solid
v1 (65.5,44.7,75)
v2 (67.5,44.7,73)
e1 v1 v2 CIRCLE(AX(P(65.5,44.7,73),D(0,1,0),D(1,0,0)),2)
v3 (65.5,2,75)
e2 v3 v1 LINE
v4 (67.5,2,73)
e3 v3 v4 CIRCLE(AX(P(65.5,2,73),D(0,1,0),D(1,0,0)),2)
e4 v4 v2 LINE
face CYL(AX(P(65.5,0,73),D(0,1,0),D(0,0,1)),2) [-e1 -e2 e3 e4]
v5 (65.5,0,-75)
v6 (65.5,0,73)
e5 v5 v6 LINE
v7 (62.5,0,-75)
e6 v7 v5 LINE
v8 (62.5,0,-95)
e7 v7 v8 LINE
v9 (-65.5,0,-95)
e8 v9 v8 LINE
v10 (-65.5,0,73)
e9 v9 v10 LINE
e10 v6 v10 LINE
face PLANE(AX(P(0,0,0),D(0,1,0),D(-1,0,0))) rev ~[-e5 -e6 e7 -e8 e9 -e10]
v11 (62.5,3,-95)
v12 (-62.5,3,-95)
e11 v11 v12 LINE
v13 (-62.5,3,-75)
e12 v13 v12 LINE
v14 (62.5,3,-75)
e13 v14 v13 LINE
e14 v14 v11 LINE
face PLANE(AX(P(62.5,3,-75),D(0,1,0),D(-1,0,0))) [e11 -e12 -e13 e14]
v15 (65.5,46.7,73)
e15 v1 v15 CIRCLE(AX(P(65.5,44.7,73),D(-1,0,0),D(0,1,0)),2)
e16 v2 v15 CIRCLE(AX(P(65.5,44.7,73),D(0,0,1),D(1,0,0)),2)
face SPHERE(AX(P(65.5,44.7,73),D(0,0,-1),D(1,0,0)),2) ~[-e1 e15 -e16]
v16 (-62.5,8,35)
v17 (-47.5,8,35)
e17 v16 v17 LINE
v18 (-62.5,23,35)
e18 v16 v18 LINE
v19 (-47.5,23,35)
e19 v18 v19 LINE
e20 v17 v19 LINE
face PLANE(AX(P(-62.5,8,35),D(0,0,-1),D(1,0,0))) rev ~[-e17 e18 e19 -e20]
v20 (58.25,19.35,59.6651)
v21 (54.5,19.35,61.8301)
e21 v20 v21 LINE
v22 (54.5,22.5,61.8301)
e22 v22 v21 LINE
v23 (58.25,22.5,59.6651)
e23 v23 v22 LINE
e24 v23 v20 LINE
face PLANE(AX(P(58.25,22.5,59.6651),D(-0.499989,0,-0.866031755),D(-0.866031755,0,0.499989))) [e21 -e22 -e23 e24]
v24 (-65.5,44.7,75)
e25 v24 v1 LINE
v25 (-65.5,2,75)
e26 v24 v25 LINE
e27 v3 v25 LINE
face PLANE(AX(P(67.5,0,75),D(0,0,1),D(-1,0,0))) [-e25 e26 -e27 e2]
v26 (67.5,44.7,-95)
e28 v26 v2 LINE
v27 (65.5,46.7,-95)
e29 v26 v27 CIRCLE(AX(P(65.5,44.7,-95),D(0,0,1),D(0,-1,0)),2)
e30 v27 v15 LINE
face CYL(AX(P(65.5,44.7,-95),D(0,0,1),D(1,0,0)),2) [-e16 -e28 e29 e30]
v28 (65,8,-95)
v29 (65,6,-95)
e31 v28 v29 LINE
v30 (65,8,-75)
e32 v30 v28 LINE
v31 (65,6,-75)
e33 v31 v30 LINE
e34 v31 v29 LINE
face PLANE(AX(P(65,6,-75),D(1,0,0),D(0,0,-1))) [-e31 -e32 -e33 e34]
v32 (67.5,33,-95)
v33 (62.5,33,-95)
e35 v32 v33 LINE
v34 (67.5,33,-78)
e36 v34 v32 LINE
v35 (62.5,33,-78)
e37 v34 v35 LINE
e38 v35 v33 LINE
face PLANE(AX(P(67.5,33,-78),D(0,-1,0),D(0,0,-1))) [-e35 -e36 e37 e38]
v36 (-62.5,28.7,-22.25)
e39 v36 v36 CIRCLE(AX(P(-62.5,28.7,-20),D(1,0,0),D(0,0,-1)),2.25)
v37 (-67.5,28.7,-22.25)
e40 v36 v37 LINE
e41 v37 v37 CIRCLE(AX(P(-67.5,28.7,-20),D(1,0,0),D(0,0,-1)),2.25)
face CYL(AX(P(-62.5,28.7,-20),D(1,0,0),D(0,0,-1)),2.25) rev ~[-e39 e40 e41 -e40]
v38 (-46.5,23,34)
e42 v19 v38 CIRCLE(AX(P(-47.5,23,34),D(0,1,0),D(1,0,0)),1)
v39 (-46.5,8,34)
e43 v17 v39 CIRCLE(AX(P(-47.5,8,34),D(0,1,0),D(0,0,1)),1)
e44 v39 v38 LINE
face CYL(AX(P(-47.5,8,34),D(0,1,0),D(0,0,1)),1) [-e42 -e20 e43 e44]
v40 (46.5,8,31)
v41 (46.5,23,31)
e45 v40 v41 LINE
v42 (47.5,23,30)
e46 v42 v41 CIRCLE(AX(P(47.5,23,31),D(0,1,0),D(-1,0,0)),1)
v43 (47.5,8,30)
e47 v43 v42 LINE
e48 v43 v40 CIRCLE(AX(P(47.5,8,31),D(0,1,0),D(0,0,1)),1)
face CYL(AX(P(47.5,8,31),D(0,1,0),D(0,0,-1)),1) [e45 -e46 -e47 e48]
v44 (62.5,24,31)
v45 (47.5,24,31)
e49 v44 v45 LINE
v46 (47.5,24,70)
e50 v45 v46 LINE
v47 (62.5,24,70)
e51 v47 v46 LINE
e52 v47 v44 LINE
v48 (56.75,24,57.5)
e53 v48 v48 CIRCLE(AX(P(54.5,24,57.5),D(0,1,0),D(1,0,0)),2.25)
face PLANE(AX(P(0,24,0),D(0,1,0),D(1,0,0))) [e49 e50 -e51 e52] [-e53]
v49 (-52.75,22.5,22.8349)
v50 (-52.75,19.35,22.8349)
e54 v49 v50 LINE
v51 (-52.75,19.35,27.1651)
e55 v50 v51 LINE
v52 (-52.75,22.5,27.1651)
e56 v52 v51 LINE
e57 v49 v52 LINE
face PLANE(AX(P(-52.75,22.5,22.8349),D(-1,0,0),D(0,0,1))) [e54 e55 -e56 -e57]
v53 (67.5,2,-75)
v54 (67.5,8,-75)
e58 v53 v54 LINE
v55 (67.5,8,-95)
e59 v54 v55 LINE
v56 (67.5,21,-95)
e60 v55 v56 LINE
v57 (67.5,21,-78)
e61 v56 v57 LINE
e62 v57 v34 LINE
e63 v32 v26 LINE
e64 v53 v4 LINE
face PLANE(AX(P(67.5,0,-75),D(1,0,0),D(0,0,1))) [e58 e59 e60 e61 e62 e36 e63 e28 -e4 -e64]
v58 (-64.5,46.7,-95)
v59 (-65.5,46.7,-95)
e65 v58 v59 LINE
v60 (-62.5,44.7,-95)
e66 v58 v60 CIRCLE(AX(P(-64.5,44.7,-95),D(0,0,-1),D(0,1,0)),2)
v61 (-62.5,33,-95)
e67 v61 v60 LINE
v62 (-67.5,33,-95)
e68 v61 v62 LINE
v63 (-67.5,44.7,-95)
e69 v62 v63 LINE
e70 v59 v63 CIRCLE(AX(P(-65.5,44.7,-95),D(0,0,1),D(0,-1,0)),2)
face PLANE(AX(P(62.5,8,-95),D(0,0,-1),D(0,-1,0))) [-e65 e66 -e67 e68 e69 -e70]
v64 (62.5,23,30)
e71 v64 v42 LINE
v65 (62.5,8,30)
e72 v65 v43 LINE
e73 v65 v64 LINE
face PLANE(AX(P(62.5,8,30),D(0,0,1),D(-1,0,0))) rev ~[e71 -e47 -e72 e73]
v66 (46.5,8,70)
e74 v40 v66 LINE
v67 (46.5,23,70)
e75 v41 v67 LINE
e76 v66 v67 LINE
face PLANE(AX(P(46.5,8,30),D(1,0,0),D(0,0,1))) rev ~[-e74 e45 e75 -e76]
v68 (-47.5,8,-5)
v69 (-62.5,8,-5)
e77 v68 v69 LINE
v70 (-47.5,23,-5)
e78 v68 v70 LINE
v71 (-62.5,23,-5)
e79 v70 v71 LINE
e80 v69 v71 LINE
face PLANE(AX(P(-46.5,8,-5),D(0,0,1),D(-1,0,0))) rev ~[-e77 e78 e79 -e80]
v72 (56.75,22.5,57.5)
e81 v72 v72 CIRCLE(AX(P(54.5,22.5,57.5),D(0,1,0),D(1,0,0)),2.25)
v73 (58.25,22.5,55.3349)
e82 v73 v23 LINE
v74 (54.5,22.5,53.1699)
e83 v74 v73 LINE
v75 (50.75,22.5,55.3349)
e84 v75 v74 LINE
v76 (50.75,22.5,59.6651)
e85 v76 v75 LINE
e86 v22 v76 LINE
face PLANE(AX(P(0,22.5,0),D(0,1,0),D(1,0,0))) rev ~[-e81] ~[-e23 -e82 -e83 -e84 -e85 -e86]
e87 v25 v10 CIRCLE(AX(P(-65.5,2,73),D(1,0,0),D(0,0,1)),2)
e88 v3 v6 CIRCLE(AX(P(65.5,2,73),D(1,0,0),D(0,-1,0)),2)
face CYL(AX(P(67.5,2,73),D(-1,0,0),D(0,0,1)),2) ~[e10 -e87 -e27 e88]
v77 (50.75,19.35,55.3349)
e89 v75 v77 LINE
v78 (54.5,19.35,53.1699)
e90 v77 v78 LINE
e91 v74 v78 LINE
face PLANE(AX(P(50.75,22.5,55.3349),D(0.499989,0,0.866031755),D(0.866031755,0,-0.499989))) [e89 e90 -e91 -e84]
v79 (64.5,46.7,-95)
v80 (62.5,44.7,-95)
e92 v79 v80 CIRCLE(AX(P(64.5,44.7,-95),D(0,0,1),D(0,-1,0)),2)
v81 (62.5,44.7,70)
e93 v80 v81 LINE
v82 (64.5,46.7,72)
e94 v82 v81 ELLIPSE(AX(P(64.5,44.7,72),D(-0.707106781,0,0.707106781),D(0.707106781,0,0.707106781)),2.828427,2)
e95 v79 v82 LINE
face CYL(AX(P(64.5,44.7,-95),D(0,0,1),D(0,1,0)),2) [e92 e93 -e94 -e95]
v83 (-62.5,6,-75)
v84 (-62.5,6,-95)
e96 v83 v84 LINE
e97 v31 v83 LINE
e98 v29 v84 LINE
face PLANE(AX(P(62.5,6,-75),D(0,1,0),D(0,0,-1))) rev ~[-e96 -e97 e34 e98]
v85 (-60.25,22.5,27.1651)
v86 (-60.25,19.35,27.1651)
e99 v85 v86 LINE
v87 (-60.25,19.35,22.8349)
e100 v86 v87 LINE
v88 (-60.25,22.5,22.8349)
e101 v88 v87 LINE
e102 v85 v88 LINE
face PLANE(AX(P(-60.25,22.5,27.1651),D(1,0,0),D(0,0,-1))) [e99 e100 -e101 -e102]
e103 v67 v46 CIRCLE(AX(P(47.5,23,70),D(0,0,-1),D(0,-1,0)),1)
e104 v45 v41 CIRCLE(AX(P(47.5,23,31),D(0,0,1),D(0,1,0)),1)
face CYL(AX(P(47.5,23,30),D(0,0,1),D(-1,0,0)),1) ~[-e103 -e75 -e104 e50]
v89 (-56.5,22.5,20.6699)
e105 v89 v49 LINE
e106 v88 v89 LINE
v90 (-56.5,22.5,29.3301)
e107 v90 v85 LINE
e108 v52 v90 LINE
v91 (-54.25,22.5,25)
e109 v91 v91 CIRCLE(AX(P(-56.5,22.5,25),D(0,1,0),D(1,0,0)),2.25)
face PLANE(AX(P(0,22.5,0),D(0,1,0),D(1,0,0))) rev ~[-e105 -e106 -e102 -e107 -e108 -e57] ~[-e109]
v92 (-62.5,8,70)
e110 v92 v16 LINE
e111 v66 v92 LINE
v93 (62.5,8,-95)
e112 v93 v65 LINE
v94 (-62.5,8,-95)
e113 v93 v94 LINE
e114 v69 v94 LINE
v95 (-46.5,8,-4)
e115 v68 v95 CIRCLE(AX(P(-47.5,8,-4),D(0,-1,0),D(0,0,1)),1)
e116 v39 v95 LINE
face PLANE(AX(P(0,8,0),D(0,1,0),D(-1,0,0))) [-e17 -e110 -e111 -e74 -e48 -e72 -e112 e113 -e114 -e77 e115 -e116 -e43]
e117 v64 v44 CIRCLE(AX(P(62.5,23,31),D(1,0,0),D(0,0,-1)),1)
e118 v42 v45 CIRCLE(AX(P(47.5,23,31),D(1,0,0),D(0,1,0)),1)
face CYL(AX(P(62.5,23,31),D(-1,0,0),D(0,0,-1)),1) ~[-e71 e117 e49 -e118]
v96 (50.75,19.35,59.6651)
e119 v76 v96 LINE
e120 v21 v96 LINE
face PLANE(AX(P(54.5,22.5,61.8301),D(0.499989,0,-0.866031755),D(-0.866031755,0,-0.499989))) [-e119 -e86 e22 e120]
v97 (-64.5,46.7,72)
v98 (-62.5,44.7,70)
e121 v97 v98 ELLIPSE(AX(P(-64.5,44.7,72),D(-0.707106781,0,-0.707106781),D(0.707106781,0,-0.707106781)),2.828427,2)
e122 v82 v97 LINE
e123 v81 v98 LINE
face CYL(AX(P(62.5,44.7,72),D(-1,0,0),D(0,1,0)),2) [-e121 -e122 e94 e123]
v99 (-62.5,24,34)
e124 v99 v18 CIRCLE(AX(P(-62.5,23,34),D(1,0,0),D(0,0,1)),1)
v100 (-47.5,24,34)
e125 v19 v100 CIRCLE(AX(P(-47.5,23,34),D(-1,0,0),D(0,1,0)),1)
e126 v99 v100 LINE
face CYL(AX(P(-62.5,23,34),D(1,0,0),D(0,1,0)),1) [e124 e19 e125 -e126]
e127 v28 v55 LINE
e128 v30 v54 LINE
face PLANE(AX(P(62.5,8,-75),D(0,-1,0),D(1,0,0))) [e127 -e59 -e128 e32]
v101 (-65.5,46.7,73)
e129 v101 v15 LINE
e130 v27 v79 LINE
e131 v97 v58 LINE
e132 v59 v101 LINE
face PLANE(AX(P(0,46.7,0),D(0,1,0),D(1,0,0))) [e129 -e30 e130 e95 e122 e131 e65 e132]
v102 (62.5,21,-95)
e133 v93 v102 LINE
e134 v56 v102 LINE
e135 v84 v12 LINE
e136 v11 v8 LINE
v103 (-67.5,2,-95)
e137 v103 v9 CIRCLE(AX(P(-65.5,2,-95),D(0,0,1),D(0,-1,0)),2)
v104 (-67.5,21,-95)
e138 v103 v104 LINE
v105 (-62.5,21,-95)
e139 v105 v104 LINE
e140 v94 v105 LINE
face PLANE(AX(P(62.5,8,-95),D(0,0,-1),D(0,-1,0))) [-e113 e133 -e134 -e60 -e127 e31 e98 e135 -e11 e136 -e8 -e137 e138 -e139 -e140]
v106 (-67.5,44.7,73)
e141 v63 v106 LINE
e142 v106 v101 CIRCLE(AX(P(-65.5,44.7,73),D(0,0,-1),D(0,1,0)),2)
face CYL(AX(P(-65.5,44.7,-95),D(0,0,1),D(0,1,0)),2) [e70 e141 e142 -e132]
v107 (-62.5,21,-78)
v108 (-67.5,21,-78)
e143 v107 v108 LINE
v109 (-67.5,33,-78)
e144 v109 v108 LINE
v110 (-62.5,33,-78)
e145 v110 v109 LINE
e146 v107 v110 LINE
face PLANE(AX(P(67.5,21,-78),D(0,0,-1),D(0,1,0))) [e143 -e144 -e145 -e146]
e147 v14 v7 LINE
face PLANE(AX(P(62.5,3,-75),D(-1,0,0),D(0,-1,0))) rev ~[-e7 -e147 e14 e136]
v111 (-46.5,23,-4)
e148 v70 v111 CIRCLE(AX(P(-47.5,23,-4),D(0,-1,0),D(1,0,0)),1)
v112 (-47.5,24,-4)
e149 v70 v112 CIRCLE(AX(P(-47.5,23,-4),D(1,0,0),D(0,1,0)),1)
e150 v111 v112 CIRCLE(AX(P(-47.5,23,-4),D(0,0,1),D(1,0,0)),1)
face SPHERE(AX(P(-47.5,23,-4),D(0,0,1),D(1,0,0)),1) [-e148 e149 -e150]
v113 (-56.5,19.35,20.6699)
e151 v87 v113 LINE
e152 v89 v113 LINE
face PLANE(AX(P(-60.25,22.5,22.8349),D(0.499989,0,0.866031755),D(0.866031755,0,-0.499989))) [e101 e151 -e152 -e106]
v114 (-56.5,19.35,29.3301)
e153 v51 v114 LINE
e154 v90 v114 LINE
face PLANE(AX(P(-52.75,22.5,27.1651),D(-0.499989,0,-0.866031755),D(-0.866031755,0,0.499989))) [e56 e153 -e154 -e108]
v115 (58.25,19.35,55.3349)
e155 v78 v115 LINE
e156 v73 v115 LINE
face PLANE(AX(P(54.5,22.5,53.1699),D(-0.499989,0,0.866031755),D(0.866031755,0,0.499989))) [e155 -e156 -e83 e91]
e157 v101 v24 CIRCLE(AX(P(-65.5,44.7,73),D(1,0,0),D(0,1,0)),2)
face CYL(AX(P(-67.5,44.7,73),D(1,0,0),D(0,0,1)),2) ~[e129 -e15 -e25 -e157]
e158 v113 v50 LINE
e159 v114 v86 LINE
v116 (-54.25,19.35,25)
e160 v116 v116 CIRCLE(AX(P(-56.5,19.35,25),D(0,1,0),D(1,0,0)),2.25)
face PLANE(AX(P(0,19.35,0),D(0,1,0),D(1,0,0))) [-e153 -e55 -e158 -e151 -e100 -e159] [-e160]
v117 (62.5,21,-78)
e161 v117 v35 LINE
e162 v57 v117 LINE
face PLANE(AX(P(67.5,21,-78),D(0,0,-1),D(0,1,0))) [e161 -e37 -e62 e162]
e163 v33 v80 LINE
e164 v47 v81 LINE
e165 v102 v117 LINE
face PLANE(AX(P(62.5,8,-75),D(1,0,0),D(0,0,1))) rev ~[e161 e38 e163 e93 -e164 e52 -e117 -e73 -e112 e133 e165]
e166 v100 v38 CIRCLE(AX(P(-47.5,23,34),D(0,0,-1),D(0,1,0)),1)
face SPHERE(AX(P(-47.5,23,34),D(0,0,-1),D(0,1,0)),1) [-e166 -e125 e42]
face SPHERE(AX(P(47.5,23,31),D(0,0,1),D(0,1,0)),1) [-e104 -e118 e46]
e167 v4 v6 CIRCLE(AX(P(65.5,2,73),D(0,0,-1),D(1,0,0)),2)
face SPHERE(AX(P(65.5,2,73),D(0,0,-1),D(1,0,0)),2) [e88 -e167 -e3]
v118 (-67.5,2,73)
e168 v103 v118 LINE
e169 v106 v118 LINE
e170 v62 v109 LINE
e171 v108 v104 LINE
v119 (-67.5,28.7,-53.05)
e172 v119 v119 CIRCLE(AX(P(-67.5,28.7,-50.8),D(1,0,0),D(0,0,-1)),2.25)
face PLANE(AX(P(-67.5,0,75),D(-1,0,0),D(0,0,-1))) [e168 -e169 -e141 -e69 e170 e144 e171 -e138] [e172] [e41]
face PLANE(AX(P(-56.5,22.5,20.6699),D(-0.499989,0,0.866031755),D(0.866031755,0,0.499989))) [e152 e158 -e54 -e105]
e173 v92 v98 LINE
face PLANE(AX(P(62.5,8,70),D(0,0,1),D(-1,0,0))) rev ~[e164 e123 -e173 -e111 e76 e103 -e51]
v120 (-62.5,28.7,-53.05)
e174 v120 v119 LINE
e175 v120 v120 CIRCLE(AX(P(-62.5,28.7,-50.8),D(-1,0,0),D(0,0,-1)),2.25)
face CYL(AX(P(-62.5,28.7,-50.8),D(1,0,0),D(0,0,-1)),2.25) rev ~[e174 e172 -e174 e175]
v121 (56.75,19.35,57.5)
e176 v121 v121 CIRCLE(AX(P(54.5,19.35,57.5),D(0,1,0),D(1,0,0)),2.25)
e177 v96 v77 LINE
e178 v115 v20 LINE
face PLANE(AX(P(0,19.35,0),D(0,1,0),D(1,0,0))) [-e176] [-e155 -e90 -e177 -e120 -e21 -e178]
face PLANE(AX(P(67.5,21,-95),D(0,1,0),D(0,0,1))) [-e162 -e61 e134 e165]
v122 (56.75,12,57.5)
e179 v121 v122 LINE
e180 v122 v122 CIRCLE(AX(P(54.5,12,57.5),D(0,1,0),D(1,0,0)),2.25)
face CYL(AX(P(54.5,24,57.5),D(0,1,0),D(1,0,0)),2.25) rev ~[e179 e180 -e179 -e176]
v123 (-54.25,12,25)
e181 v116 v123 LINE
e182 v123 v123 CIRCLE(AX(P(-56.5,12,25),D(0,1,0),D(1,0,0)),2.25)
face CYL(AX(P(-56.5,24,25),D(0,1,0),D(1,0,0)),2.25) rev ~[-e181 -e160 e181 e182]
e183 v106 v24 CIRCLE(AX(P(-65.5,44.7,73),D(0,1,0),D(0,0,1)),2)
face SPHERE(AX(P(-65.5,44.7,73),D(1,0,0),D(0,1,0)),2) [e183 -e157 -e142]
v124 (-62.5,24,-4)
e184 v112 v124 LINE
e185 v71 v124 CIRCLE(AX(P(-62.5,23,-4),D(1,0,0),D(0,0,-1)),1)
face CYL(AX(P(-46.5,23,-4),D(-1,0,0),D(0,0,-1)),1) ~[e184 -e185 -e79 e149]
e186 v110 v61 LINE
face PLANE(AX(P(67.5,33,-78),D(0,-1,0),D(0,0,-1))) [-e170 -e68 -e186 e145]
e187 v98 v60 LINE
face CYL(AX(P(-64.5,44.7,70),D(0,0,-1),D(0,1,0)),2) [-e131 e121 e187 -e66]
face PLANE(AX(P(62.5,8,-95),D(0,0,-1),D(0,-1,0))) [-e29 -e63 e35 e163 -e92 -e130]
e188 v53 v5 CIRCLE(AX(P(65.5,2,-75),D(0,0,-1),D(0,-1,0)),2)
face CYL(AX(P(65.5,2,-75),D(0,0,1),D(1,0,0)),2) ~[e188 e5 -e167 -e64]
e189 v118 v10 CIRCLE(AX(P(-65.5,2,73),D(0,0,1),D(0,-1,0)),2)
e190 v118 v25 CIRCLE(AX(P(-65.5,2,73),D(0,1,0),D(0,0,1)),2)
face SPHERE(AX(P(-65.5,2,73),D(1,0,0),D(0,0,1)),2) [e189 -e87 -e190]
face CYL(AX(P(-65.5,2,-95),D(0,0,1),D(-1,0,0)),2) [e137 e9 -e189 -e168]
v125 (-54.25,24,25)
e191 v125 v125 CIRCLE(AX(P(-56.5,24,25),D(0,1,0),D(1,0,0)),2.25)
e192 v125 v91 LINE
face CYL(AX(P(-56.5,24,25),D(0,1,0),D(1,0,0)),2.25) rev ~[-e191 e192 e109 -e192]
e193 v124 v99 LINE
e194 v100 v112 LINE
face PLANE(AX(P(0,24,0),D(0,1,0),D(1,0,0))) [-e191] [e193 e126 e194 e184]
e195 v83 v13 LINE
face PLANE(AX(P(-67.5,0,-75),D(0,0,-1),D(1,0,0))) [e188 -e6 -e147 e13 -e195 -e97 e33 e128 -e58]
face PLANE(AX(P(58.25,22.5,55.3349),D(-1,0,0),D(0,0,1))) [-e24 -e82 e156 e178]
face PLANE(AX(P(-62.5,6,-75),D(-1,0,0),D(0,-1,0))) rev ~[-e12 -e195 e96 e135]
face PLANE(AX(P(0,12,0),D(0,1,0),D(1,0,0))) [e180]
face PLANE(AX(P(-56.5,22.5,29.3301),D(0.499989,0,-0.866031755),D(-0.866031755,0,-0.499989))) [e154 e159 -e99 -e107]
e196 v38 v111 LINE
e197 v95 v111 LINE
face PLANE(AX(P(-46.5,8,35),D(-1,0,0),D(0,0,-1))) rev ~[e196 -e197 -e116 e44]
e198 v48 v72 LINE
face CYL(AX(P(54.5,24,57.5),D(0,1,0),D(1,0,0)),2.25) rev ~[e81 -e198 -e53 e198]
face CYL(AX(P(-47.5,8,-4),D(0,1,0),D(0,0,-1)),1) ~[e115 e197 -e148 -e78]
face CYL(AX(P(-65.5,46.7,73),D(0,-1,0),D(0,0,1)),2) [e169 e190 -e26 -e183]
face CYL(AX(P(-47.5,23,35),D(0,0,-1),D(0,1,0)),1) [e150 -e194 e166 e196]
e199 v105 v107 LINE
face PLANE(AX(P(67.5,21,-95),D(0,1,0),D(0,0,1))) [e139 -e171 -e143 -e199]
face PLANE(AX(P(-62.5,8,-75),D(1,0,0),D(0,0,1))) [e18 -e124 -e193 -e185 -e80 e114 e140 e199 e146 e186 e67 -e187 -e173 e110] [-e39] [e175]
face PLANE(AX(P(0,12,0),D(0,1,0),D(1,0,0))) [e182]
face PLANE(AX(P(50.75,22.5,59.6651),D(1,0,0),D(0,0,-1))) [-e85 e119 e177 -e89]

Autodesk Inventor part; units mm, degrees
sketch "Sketch1" plane through (0, 0, 0) normal (0, 1, 0) x (-1, 0, 0)
  line L0 (-67.5, 75) -> (67.5, 75)
  line L1 (67.5, 75) -> (67.5, -75)
  line L2 (67.5, -75) -> (-67.5, -75)
  line L3 (-67.5, -75) -> (-67.5, 75)
  line L4 (-67.5, 75) -> (67.5, -75) construction
  line L5 (67.5, 75) -> (-67.5, -75) construction
  point P0 (0, 0)
  dimension "d0" = 135
  dimension "d1" = 150
extrude "Extrusion1" add sketch "Sketch1" along normal blind 8
sketch "Sketch3" plane through (0, 8, 0) normal (0, 1, 0) x (1, 0, 0)
  line L0 (-67.5, -75) -> (67.5, -75) projected
  line L1 (67.5, -75) -> (67.5, 75) projected
  line L2 (67.5, 75) -> (-67.5, 75) projected
  line L3 (-67.5, 75) -> (-67.5, -75) projected
  line L4 (62.5, 75) -> (62.5, -70)
  line L5 (-67.5, -75) -> (67.5, -75) projected
  line L6 (67.5, -75) -> (67.5, 75) projected
  line L7 (0, 0) -> (0, -83) construction
  line L8 (-62.5, 75) -> (-62.5, -70)
  line L9 (62.5, -70) -> (-62.5, -70)
  dimension "d4" = 5
  dimension "d5" = 5
extrude "Extrusion2" add sketch "Sketch3" along normal blind 38.7 contours L3 L2 L8 L9 L4 L1 L0
sketch "Sketch4" plane through (67.5, 0, -75) normal (0, 0, -1) x (-1, 0, 0)
  line L0 (135, 0) -> (0, 0) projected
  line L1 (135, 0) -> (135, 46.7) projected
  line L2 (130, 46.7) -> (135, 46.7) projected
  line L3 (130, 8) -> (130, 46.7) projected
  line L4 (5, 8) -> (130, 8) projected
  line L5 (5, 8) -> (5, 46.7) projected
  line L6 (0, 46.7) -> (5, 46.7) projected
  line L7 (0, 0) -> (0, 46.7) projected
  line L8 (130, 8) -> (5, 8) projected
  line L9 (5, 8) -> (5, 0)
  line L10 (130, 8) -> (130, 0)
  line L11 (0, 0) -> (135, 0) projected
  line L12 (0, 0) -> (0, 46.7) projected
  line L13 (5, 3) -> (130, 3)
  line L14 (5, 8) -> (130, 8) projected
  line L15 (5, 6) -> (130, 6)
  line L16 (5, 8) -> (0, 8)
  line L17 (135, 0) -> (0, 0) projected
  point P0 (67.5, 0)
  dimension "d8" = 3
  dimension "d9" = 3
extrude "Extrusion3" add sketch "Sketch4" along normal blind 20 contours L0 L10 L3 L2 L1 | L0 L9 L13 L10 | L15 L9 L4 L10 | L7 L6 L5 L16
sketch "Sketch6" plane through (67.5, 0, 75) normal (1, 0, 0) x (0, 0, -1)
  line L0 (150, 0) -> (150, 8)
  line L1 (0, 0) -> (0, 46.7) projected
  line L2 (150, 8) -> (170, 8) projected
  line L3 (0, 46.7) -> (170, 46.7) projected
  line L4 (170, 46.7) -> (170, 8) projected
  line L5 (170, 21) -> (153, 21)
  line L6 (153, 21) -> (153, 33)
  line L7 (153, 33) -> (170, 33)
  line L8 (170, 33) -> (170, 21)
  point P0 (75, 0)
  dimension "d92" = 13
  dimension "d93" = 17
  dimension "d94" = 12
fillet "Fillet1" radius 2 11 edges at (67.5, 0, 0) (67.5, 46.7, -10) (67.5, 23.35, 75) (0, 46.7, 75) (0, 0, 75) (-67.5, 46.7, -10) (-67.5, 23.35, 75) (-67.5, 0, -10) (62.5, 46.7, -12.5) (-62.5, 46.7, -12.5) (0, 46.7, 70)
ref_plane "Work Plane4" through (-67.5, 9.7, -88) normal (-1, 0, 0) x (0, 0, 1)
sketch "Sketch15" plane through (62.5, 6, -75) normal (1, 0, 0) x (0, 0, -1)
  line L0 (0, 0) -> (0, 2) projected
  line L1 (0, 0) -> (20, 0) projected
  line L2 (20, 2) -> (20, 0) projected
  line L3 (0, 2) -> (20, 2) projected
  point P0 (-75, -6)
extrude "Extrusion8" add sketch "Sketch15" along normal blind 2.5
sketch "Sketch16" plane through (0, 8, 0) normal (0, 1, 0) x (1, 0, 0)
  line L0 (-62.5, -35) -> (-46.5, -35)
  line L1 (-46.5, -35) -> (-46.5, 5)
  line L2 (-46.5, 5) -> (-62.5, 5)
  line L3 (-62.5, 5) -> (-62.5, -35)
  line L4 (62.5, -70) -> (-62.5, -70) projected
  line L5 (-62.5, -70) -> (-62.5, 95) projected
  line L6 (46.5, -70) -> (62.5, -70)
  line L7 (62.5, -70) -> (62.5, -30)
  line L8 (62.5, -30) -> (46.5, -30)
  line L9 (46.5, -30) -> (46.5, -70)
  line L10 (62.5, 95) -> (62.5, -70) projected
  point P0 (0, 0)
  dimension "d39" = 35
  dimension "d40" = 0
  dimension "d41" = 16
  dimension "d42" = 40
  dimension "d43" = 0
  dimension "d44" = 0
  dimension "d45" = 40
  dimension "d46" = 16
extrude "Extrusion9" add sketch "Sketch16" along normal blind 16
fillet "Fillet4" radius 1 8 edges at (46.5, 24, 50) (54.5, 24, 30) (46.5, 16, 30) (-46.5, 24, 15) (-46.5, 16, -5) (-54.5, 24, 35) (-54.5, 24, -5) (-46.5, 16, 35)
sketch "Sketch17" plane through (0, 24, 0) normal (0, 1, 0) x (1, 0, 0)
  circle A0 centre (-56.5, -25) radius 2.25
  line L0 (-62.5, -34) -> (-62.5, 4) projected
  line L1 (-47.5, -34) -> (-62.5, -34) projected
  circle A1 centre (54.5, -57.5) radius 2.25
  line L2 (47.5, -70) -> (47.5, -31) projected
  line L3 (47.5, -31) -> (62.5, -31) projected
  line L4 (62.5, -70) -> (50.5, -70) projected
  point P0 (0, 0)
  dimension "d50" = 4.5
  dimension "d51" = 6
  dimension "d52" = 9
  dimension "d53" = 4.5
  dimension "d54" = 7
  dimension "d90" = 12.5
extrude "Extrusion10" cut sketch "Sketch17" against normal blind 12
ref_plane "Work Plane5" through (-62.5, 9.7, -88) normal (1, 0, 0) x (0, 0, -1)
sketch "Sketch18" plane through (-62.5, 9.7, -88) normal (1, 0, 0) x (0, 0, -1)
  circle A0 centre (-68, 19) radius 2.25
  circle A1 centre (-37.2, 19) radius 2.25
  line L0 (0, 8.1) -> (0, 14.1)
  line L1 (-37.2, 19) -> (-68, 19)
  line L2 (7, 37) -> (-160, 37) projected
  line L3 (-158, -1.7) -> (-158, 35) projected
  point P0 (-88, -9.7)
  dimension "d60" = 4.5
  dimension "d61" = 4.5
  dimension "d62" = 30.8
  dimension "d67" = 90
  dimension "d91" = 18
extrude "Extrusion11" cut sketch "Sketch18" against normal through all
ref_plane "Work Plane3" through (0, 22.5, 0) normal (0, 1, 0) x (1, 0, 0)
sketch "Sketch21" plane through (0, 22.5, 0) normal (0, 1, 0) x (1, 0, 0)
  circle A0 centre (54.5, -57.5) radius 2.25 projected
  line L0 (50.75, -55.3349) -> (54.5, -53.1699)
  line L1 (54.5, -53.1699) -> (58.25, -55.3349)
  line L2 (58.25, -55.3349) -> (58.25, -59.6651)
  line L3 (58.25, -59.6651) -> (54.5, -61.8301)
  line L4 (54.5, -61.8301) -> (50.75, -59.6651)
  line L5 (50.75, -59.6651) -> (50.75, -55.3349)
  line L6 (-62.5, -35) -> (-62.5, -70) projected
  line L7 (46.5, -70) -> (46.5, -31) projected
  circle A1 centre (-56.5, -25) radius 2.25 projected
  line L8 (-52.75, -27.1651) -> (-56.5, -29.3301)
  line L9 (-56.5, -29.3301) -> (-60.25, -27.1651)
  line L10 (-60.25, -27.1651) -> (-60.25, -22.8349)
  line L11 (-60.25, -22.8349) -> (-56.5, -20.6699)
  line L12 (-56.5, -20.6699) -> (-52.75, -22.8349)
  line L13 (-52.75, -22.8349) -> (-52.75, -27.1651)
  point P0 (0, 0)
  dimension "d78" = 7.5
  dimension "d79" = 7.5
extrude "Extrusion13" cut sketch "Sketch21" against normal blind 3.15
extrude "Extrusion14" cut sketch "Sketch6" against normal through all
properties part number "Case_metà1"
